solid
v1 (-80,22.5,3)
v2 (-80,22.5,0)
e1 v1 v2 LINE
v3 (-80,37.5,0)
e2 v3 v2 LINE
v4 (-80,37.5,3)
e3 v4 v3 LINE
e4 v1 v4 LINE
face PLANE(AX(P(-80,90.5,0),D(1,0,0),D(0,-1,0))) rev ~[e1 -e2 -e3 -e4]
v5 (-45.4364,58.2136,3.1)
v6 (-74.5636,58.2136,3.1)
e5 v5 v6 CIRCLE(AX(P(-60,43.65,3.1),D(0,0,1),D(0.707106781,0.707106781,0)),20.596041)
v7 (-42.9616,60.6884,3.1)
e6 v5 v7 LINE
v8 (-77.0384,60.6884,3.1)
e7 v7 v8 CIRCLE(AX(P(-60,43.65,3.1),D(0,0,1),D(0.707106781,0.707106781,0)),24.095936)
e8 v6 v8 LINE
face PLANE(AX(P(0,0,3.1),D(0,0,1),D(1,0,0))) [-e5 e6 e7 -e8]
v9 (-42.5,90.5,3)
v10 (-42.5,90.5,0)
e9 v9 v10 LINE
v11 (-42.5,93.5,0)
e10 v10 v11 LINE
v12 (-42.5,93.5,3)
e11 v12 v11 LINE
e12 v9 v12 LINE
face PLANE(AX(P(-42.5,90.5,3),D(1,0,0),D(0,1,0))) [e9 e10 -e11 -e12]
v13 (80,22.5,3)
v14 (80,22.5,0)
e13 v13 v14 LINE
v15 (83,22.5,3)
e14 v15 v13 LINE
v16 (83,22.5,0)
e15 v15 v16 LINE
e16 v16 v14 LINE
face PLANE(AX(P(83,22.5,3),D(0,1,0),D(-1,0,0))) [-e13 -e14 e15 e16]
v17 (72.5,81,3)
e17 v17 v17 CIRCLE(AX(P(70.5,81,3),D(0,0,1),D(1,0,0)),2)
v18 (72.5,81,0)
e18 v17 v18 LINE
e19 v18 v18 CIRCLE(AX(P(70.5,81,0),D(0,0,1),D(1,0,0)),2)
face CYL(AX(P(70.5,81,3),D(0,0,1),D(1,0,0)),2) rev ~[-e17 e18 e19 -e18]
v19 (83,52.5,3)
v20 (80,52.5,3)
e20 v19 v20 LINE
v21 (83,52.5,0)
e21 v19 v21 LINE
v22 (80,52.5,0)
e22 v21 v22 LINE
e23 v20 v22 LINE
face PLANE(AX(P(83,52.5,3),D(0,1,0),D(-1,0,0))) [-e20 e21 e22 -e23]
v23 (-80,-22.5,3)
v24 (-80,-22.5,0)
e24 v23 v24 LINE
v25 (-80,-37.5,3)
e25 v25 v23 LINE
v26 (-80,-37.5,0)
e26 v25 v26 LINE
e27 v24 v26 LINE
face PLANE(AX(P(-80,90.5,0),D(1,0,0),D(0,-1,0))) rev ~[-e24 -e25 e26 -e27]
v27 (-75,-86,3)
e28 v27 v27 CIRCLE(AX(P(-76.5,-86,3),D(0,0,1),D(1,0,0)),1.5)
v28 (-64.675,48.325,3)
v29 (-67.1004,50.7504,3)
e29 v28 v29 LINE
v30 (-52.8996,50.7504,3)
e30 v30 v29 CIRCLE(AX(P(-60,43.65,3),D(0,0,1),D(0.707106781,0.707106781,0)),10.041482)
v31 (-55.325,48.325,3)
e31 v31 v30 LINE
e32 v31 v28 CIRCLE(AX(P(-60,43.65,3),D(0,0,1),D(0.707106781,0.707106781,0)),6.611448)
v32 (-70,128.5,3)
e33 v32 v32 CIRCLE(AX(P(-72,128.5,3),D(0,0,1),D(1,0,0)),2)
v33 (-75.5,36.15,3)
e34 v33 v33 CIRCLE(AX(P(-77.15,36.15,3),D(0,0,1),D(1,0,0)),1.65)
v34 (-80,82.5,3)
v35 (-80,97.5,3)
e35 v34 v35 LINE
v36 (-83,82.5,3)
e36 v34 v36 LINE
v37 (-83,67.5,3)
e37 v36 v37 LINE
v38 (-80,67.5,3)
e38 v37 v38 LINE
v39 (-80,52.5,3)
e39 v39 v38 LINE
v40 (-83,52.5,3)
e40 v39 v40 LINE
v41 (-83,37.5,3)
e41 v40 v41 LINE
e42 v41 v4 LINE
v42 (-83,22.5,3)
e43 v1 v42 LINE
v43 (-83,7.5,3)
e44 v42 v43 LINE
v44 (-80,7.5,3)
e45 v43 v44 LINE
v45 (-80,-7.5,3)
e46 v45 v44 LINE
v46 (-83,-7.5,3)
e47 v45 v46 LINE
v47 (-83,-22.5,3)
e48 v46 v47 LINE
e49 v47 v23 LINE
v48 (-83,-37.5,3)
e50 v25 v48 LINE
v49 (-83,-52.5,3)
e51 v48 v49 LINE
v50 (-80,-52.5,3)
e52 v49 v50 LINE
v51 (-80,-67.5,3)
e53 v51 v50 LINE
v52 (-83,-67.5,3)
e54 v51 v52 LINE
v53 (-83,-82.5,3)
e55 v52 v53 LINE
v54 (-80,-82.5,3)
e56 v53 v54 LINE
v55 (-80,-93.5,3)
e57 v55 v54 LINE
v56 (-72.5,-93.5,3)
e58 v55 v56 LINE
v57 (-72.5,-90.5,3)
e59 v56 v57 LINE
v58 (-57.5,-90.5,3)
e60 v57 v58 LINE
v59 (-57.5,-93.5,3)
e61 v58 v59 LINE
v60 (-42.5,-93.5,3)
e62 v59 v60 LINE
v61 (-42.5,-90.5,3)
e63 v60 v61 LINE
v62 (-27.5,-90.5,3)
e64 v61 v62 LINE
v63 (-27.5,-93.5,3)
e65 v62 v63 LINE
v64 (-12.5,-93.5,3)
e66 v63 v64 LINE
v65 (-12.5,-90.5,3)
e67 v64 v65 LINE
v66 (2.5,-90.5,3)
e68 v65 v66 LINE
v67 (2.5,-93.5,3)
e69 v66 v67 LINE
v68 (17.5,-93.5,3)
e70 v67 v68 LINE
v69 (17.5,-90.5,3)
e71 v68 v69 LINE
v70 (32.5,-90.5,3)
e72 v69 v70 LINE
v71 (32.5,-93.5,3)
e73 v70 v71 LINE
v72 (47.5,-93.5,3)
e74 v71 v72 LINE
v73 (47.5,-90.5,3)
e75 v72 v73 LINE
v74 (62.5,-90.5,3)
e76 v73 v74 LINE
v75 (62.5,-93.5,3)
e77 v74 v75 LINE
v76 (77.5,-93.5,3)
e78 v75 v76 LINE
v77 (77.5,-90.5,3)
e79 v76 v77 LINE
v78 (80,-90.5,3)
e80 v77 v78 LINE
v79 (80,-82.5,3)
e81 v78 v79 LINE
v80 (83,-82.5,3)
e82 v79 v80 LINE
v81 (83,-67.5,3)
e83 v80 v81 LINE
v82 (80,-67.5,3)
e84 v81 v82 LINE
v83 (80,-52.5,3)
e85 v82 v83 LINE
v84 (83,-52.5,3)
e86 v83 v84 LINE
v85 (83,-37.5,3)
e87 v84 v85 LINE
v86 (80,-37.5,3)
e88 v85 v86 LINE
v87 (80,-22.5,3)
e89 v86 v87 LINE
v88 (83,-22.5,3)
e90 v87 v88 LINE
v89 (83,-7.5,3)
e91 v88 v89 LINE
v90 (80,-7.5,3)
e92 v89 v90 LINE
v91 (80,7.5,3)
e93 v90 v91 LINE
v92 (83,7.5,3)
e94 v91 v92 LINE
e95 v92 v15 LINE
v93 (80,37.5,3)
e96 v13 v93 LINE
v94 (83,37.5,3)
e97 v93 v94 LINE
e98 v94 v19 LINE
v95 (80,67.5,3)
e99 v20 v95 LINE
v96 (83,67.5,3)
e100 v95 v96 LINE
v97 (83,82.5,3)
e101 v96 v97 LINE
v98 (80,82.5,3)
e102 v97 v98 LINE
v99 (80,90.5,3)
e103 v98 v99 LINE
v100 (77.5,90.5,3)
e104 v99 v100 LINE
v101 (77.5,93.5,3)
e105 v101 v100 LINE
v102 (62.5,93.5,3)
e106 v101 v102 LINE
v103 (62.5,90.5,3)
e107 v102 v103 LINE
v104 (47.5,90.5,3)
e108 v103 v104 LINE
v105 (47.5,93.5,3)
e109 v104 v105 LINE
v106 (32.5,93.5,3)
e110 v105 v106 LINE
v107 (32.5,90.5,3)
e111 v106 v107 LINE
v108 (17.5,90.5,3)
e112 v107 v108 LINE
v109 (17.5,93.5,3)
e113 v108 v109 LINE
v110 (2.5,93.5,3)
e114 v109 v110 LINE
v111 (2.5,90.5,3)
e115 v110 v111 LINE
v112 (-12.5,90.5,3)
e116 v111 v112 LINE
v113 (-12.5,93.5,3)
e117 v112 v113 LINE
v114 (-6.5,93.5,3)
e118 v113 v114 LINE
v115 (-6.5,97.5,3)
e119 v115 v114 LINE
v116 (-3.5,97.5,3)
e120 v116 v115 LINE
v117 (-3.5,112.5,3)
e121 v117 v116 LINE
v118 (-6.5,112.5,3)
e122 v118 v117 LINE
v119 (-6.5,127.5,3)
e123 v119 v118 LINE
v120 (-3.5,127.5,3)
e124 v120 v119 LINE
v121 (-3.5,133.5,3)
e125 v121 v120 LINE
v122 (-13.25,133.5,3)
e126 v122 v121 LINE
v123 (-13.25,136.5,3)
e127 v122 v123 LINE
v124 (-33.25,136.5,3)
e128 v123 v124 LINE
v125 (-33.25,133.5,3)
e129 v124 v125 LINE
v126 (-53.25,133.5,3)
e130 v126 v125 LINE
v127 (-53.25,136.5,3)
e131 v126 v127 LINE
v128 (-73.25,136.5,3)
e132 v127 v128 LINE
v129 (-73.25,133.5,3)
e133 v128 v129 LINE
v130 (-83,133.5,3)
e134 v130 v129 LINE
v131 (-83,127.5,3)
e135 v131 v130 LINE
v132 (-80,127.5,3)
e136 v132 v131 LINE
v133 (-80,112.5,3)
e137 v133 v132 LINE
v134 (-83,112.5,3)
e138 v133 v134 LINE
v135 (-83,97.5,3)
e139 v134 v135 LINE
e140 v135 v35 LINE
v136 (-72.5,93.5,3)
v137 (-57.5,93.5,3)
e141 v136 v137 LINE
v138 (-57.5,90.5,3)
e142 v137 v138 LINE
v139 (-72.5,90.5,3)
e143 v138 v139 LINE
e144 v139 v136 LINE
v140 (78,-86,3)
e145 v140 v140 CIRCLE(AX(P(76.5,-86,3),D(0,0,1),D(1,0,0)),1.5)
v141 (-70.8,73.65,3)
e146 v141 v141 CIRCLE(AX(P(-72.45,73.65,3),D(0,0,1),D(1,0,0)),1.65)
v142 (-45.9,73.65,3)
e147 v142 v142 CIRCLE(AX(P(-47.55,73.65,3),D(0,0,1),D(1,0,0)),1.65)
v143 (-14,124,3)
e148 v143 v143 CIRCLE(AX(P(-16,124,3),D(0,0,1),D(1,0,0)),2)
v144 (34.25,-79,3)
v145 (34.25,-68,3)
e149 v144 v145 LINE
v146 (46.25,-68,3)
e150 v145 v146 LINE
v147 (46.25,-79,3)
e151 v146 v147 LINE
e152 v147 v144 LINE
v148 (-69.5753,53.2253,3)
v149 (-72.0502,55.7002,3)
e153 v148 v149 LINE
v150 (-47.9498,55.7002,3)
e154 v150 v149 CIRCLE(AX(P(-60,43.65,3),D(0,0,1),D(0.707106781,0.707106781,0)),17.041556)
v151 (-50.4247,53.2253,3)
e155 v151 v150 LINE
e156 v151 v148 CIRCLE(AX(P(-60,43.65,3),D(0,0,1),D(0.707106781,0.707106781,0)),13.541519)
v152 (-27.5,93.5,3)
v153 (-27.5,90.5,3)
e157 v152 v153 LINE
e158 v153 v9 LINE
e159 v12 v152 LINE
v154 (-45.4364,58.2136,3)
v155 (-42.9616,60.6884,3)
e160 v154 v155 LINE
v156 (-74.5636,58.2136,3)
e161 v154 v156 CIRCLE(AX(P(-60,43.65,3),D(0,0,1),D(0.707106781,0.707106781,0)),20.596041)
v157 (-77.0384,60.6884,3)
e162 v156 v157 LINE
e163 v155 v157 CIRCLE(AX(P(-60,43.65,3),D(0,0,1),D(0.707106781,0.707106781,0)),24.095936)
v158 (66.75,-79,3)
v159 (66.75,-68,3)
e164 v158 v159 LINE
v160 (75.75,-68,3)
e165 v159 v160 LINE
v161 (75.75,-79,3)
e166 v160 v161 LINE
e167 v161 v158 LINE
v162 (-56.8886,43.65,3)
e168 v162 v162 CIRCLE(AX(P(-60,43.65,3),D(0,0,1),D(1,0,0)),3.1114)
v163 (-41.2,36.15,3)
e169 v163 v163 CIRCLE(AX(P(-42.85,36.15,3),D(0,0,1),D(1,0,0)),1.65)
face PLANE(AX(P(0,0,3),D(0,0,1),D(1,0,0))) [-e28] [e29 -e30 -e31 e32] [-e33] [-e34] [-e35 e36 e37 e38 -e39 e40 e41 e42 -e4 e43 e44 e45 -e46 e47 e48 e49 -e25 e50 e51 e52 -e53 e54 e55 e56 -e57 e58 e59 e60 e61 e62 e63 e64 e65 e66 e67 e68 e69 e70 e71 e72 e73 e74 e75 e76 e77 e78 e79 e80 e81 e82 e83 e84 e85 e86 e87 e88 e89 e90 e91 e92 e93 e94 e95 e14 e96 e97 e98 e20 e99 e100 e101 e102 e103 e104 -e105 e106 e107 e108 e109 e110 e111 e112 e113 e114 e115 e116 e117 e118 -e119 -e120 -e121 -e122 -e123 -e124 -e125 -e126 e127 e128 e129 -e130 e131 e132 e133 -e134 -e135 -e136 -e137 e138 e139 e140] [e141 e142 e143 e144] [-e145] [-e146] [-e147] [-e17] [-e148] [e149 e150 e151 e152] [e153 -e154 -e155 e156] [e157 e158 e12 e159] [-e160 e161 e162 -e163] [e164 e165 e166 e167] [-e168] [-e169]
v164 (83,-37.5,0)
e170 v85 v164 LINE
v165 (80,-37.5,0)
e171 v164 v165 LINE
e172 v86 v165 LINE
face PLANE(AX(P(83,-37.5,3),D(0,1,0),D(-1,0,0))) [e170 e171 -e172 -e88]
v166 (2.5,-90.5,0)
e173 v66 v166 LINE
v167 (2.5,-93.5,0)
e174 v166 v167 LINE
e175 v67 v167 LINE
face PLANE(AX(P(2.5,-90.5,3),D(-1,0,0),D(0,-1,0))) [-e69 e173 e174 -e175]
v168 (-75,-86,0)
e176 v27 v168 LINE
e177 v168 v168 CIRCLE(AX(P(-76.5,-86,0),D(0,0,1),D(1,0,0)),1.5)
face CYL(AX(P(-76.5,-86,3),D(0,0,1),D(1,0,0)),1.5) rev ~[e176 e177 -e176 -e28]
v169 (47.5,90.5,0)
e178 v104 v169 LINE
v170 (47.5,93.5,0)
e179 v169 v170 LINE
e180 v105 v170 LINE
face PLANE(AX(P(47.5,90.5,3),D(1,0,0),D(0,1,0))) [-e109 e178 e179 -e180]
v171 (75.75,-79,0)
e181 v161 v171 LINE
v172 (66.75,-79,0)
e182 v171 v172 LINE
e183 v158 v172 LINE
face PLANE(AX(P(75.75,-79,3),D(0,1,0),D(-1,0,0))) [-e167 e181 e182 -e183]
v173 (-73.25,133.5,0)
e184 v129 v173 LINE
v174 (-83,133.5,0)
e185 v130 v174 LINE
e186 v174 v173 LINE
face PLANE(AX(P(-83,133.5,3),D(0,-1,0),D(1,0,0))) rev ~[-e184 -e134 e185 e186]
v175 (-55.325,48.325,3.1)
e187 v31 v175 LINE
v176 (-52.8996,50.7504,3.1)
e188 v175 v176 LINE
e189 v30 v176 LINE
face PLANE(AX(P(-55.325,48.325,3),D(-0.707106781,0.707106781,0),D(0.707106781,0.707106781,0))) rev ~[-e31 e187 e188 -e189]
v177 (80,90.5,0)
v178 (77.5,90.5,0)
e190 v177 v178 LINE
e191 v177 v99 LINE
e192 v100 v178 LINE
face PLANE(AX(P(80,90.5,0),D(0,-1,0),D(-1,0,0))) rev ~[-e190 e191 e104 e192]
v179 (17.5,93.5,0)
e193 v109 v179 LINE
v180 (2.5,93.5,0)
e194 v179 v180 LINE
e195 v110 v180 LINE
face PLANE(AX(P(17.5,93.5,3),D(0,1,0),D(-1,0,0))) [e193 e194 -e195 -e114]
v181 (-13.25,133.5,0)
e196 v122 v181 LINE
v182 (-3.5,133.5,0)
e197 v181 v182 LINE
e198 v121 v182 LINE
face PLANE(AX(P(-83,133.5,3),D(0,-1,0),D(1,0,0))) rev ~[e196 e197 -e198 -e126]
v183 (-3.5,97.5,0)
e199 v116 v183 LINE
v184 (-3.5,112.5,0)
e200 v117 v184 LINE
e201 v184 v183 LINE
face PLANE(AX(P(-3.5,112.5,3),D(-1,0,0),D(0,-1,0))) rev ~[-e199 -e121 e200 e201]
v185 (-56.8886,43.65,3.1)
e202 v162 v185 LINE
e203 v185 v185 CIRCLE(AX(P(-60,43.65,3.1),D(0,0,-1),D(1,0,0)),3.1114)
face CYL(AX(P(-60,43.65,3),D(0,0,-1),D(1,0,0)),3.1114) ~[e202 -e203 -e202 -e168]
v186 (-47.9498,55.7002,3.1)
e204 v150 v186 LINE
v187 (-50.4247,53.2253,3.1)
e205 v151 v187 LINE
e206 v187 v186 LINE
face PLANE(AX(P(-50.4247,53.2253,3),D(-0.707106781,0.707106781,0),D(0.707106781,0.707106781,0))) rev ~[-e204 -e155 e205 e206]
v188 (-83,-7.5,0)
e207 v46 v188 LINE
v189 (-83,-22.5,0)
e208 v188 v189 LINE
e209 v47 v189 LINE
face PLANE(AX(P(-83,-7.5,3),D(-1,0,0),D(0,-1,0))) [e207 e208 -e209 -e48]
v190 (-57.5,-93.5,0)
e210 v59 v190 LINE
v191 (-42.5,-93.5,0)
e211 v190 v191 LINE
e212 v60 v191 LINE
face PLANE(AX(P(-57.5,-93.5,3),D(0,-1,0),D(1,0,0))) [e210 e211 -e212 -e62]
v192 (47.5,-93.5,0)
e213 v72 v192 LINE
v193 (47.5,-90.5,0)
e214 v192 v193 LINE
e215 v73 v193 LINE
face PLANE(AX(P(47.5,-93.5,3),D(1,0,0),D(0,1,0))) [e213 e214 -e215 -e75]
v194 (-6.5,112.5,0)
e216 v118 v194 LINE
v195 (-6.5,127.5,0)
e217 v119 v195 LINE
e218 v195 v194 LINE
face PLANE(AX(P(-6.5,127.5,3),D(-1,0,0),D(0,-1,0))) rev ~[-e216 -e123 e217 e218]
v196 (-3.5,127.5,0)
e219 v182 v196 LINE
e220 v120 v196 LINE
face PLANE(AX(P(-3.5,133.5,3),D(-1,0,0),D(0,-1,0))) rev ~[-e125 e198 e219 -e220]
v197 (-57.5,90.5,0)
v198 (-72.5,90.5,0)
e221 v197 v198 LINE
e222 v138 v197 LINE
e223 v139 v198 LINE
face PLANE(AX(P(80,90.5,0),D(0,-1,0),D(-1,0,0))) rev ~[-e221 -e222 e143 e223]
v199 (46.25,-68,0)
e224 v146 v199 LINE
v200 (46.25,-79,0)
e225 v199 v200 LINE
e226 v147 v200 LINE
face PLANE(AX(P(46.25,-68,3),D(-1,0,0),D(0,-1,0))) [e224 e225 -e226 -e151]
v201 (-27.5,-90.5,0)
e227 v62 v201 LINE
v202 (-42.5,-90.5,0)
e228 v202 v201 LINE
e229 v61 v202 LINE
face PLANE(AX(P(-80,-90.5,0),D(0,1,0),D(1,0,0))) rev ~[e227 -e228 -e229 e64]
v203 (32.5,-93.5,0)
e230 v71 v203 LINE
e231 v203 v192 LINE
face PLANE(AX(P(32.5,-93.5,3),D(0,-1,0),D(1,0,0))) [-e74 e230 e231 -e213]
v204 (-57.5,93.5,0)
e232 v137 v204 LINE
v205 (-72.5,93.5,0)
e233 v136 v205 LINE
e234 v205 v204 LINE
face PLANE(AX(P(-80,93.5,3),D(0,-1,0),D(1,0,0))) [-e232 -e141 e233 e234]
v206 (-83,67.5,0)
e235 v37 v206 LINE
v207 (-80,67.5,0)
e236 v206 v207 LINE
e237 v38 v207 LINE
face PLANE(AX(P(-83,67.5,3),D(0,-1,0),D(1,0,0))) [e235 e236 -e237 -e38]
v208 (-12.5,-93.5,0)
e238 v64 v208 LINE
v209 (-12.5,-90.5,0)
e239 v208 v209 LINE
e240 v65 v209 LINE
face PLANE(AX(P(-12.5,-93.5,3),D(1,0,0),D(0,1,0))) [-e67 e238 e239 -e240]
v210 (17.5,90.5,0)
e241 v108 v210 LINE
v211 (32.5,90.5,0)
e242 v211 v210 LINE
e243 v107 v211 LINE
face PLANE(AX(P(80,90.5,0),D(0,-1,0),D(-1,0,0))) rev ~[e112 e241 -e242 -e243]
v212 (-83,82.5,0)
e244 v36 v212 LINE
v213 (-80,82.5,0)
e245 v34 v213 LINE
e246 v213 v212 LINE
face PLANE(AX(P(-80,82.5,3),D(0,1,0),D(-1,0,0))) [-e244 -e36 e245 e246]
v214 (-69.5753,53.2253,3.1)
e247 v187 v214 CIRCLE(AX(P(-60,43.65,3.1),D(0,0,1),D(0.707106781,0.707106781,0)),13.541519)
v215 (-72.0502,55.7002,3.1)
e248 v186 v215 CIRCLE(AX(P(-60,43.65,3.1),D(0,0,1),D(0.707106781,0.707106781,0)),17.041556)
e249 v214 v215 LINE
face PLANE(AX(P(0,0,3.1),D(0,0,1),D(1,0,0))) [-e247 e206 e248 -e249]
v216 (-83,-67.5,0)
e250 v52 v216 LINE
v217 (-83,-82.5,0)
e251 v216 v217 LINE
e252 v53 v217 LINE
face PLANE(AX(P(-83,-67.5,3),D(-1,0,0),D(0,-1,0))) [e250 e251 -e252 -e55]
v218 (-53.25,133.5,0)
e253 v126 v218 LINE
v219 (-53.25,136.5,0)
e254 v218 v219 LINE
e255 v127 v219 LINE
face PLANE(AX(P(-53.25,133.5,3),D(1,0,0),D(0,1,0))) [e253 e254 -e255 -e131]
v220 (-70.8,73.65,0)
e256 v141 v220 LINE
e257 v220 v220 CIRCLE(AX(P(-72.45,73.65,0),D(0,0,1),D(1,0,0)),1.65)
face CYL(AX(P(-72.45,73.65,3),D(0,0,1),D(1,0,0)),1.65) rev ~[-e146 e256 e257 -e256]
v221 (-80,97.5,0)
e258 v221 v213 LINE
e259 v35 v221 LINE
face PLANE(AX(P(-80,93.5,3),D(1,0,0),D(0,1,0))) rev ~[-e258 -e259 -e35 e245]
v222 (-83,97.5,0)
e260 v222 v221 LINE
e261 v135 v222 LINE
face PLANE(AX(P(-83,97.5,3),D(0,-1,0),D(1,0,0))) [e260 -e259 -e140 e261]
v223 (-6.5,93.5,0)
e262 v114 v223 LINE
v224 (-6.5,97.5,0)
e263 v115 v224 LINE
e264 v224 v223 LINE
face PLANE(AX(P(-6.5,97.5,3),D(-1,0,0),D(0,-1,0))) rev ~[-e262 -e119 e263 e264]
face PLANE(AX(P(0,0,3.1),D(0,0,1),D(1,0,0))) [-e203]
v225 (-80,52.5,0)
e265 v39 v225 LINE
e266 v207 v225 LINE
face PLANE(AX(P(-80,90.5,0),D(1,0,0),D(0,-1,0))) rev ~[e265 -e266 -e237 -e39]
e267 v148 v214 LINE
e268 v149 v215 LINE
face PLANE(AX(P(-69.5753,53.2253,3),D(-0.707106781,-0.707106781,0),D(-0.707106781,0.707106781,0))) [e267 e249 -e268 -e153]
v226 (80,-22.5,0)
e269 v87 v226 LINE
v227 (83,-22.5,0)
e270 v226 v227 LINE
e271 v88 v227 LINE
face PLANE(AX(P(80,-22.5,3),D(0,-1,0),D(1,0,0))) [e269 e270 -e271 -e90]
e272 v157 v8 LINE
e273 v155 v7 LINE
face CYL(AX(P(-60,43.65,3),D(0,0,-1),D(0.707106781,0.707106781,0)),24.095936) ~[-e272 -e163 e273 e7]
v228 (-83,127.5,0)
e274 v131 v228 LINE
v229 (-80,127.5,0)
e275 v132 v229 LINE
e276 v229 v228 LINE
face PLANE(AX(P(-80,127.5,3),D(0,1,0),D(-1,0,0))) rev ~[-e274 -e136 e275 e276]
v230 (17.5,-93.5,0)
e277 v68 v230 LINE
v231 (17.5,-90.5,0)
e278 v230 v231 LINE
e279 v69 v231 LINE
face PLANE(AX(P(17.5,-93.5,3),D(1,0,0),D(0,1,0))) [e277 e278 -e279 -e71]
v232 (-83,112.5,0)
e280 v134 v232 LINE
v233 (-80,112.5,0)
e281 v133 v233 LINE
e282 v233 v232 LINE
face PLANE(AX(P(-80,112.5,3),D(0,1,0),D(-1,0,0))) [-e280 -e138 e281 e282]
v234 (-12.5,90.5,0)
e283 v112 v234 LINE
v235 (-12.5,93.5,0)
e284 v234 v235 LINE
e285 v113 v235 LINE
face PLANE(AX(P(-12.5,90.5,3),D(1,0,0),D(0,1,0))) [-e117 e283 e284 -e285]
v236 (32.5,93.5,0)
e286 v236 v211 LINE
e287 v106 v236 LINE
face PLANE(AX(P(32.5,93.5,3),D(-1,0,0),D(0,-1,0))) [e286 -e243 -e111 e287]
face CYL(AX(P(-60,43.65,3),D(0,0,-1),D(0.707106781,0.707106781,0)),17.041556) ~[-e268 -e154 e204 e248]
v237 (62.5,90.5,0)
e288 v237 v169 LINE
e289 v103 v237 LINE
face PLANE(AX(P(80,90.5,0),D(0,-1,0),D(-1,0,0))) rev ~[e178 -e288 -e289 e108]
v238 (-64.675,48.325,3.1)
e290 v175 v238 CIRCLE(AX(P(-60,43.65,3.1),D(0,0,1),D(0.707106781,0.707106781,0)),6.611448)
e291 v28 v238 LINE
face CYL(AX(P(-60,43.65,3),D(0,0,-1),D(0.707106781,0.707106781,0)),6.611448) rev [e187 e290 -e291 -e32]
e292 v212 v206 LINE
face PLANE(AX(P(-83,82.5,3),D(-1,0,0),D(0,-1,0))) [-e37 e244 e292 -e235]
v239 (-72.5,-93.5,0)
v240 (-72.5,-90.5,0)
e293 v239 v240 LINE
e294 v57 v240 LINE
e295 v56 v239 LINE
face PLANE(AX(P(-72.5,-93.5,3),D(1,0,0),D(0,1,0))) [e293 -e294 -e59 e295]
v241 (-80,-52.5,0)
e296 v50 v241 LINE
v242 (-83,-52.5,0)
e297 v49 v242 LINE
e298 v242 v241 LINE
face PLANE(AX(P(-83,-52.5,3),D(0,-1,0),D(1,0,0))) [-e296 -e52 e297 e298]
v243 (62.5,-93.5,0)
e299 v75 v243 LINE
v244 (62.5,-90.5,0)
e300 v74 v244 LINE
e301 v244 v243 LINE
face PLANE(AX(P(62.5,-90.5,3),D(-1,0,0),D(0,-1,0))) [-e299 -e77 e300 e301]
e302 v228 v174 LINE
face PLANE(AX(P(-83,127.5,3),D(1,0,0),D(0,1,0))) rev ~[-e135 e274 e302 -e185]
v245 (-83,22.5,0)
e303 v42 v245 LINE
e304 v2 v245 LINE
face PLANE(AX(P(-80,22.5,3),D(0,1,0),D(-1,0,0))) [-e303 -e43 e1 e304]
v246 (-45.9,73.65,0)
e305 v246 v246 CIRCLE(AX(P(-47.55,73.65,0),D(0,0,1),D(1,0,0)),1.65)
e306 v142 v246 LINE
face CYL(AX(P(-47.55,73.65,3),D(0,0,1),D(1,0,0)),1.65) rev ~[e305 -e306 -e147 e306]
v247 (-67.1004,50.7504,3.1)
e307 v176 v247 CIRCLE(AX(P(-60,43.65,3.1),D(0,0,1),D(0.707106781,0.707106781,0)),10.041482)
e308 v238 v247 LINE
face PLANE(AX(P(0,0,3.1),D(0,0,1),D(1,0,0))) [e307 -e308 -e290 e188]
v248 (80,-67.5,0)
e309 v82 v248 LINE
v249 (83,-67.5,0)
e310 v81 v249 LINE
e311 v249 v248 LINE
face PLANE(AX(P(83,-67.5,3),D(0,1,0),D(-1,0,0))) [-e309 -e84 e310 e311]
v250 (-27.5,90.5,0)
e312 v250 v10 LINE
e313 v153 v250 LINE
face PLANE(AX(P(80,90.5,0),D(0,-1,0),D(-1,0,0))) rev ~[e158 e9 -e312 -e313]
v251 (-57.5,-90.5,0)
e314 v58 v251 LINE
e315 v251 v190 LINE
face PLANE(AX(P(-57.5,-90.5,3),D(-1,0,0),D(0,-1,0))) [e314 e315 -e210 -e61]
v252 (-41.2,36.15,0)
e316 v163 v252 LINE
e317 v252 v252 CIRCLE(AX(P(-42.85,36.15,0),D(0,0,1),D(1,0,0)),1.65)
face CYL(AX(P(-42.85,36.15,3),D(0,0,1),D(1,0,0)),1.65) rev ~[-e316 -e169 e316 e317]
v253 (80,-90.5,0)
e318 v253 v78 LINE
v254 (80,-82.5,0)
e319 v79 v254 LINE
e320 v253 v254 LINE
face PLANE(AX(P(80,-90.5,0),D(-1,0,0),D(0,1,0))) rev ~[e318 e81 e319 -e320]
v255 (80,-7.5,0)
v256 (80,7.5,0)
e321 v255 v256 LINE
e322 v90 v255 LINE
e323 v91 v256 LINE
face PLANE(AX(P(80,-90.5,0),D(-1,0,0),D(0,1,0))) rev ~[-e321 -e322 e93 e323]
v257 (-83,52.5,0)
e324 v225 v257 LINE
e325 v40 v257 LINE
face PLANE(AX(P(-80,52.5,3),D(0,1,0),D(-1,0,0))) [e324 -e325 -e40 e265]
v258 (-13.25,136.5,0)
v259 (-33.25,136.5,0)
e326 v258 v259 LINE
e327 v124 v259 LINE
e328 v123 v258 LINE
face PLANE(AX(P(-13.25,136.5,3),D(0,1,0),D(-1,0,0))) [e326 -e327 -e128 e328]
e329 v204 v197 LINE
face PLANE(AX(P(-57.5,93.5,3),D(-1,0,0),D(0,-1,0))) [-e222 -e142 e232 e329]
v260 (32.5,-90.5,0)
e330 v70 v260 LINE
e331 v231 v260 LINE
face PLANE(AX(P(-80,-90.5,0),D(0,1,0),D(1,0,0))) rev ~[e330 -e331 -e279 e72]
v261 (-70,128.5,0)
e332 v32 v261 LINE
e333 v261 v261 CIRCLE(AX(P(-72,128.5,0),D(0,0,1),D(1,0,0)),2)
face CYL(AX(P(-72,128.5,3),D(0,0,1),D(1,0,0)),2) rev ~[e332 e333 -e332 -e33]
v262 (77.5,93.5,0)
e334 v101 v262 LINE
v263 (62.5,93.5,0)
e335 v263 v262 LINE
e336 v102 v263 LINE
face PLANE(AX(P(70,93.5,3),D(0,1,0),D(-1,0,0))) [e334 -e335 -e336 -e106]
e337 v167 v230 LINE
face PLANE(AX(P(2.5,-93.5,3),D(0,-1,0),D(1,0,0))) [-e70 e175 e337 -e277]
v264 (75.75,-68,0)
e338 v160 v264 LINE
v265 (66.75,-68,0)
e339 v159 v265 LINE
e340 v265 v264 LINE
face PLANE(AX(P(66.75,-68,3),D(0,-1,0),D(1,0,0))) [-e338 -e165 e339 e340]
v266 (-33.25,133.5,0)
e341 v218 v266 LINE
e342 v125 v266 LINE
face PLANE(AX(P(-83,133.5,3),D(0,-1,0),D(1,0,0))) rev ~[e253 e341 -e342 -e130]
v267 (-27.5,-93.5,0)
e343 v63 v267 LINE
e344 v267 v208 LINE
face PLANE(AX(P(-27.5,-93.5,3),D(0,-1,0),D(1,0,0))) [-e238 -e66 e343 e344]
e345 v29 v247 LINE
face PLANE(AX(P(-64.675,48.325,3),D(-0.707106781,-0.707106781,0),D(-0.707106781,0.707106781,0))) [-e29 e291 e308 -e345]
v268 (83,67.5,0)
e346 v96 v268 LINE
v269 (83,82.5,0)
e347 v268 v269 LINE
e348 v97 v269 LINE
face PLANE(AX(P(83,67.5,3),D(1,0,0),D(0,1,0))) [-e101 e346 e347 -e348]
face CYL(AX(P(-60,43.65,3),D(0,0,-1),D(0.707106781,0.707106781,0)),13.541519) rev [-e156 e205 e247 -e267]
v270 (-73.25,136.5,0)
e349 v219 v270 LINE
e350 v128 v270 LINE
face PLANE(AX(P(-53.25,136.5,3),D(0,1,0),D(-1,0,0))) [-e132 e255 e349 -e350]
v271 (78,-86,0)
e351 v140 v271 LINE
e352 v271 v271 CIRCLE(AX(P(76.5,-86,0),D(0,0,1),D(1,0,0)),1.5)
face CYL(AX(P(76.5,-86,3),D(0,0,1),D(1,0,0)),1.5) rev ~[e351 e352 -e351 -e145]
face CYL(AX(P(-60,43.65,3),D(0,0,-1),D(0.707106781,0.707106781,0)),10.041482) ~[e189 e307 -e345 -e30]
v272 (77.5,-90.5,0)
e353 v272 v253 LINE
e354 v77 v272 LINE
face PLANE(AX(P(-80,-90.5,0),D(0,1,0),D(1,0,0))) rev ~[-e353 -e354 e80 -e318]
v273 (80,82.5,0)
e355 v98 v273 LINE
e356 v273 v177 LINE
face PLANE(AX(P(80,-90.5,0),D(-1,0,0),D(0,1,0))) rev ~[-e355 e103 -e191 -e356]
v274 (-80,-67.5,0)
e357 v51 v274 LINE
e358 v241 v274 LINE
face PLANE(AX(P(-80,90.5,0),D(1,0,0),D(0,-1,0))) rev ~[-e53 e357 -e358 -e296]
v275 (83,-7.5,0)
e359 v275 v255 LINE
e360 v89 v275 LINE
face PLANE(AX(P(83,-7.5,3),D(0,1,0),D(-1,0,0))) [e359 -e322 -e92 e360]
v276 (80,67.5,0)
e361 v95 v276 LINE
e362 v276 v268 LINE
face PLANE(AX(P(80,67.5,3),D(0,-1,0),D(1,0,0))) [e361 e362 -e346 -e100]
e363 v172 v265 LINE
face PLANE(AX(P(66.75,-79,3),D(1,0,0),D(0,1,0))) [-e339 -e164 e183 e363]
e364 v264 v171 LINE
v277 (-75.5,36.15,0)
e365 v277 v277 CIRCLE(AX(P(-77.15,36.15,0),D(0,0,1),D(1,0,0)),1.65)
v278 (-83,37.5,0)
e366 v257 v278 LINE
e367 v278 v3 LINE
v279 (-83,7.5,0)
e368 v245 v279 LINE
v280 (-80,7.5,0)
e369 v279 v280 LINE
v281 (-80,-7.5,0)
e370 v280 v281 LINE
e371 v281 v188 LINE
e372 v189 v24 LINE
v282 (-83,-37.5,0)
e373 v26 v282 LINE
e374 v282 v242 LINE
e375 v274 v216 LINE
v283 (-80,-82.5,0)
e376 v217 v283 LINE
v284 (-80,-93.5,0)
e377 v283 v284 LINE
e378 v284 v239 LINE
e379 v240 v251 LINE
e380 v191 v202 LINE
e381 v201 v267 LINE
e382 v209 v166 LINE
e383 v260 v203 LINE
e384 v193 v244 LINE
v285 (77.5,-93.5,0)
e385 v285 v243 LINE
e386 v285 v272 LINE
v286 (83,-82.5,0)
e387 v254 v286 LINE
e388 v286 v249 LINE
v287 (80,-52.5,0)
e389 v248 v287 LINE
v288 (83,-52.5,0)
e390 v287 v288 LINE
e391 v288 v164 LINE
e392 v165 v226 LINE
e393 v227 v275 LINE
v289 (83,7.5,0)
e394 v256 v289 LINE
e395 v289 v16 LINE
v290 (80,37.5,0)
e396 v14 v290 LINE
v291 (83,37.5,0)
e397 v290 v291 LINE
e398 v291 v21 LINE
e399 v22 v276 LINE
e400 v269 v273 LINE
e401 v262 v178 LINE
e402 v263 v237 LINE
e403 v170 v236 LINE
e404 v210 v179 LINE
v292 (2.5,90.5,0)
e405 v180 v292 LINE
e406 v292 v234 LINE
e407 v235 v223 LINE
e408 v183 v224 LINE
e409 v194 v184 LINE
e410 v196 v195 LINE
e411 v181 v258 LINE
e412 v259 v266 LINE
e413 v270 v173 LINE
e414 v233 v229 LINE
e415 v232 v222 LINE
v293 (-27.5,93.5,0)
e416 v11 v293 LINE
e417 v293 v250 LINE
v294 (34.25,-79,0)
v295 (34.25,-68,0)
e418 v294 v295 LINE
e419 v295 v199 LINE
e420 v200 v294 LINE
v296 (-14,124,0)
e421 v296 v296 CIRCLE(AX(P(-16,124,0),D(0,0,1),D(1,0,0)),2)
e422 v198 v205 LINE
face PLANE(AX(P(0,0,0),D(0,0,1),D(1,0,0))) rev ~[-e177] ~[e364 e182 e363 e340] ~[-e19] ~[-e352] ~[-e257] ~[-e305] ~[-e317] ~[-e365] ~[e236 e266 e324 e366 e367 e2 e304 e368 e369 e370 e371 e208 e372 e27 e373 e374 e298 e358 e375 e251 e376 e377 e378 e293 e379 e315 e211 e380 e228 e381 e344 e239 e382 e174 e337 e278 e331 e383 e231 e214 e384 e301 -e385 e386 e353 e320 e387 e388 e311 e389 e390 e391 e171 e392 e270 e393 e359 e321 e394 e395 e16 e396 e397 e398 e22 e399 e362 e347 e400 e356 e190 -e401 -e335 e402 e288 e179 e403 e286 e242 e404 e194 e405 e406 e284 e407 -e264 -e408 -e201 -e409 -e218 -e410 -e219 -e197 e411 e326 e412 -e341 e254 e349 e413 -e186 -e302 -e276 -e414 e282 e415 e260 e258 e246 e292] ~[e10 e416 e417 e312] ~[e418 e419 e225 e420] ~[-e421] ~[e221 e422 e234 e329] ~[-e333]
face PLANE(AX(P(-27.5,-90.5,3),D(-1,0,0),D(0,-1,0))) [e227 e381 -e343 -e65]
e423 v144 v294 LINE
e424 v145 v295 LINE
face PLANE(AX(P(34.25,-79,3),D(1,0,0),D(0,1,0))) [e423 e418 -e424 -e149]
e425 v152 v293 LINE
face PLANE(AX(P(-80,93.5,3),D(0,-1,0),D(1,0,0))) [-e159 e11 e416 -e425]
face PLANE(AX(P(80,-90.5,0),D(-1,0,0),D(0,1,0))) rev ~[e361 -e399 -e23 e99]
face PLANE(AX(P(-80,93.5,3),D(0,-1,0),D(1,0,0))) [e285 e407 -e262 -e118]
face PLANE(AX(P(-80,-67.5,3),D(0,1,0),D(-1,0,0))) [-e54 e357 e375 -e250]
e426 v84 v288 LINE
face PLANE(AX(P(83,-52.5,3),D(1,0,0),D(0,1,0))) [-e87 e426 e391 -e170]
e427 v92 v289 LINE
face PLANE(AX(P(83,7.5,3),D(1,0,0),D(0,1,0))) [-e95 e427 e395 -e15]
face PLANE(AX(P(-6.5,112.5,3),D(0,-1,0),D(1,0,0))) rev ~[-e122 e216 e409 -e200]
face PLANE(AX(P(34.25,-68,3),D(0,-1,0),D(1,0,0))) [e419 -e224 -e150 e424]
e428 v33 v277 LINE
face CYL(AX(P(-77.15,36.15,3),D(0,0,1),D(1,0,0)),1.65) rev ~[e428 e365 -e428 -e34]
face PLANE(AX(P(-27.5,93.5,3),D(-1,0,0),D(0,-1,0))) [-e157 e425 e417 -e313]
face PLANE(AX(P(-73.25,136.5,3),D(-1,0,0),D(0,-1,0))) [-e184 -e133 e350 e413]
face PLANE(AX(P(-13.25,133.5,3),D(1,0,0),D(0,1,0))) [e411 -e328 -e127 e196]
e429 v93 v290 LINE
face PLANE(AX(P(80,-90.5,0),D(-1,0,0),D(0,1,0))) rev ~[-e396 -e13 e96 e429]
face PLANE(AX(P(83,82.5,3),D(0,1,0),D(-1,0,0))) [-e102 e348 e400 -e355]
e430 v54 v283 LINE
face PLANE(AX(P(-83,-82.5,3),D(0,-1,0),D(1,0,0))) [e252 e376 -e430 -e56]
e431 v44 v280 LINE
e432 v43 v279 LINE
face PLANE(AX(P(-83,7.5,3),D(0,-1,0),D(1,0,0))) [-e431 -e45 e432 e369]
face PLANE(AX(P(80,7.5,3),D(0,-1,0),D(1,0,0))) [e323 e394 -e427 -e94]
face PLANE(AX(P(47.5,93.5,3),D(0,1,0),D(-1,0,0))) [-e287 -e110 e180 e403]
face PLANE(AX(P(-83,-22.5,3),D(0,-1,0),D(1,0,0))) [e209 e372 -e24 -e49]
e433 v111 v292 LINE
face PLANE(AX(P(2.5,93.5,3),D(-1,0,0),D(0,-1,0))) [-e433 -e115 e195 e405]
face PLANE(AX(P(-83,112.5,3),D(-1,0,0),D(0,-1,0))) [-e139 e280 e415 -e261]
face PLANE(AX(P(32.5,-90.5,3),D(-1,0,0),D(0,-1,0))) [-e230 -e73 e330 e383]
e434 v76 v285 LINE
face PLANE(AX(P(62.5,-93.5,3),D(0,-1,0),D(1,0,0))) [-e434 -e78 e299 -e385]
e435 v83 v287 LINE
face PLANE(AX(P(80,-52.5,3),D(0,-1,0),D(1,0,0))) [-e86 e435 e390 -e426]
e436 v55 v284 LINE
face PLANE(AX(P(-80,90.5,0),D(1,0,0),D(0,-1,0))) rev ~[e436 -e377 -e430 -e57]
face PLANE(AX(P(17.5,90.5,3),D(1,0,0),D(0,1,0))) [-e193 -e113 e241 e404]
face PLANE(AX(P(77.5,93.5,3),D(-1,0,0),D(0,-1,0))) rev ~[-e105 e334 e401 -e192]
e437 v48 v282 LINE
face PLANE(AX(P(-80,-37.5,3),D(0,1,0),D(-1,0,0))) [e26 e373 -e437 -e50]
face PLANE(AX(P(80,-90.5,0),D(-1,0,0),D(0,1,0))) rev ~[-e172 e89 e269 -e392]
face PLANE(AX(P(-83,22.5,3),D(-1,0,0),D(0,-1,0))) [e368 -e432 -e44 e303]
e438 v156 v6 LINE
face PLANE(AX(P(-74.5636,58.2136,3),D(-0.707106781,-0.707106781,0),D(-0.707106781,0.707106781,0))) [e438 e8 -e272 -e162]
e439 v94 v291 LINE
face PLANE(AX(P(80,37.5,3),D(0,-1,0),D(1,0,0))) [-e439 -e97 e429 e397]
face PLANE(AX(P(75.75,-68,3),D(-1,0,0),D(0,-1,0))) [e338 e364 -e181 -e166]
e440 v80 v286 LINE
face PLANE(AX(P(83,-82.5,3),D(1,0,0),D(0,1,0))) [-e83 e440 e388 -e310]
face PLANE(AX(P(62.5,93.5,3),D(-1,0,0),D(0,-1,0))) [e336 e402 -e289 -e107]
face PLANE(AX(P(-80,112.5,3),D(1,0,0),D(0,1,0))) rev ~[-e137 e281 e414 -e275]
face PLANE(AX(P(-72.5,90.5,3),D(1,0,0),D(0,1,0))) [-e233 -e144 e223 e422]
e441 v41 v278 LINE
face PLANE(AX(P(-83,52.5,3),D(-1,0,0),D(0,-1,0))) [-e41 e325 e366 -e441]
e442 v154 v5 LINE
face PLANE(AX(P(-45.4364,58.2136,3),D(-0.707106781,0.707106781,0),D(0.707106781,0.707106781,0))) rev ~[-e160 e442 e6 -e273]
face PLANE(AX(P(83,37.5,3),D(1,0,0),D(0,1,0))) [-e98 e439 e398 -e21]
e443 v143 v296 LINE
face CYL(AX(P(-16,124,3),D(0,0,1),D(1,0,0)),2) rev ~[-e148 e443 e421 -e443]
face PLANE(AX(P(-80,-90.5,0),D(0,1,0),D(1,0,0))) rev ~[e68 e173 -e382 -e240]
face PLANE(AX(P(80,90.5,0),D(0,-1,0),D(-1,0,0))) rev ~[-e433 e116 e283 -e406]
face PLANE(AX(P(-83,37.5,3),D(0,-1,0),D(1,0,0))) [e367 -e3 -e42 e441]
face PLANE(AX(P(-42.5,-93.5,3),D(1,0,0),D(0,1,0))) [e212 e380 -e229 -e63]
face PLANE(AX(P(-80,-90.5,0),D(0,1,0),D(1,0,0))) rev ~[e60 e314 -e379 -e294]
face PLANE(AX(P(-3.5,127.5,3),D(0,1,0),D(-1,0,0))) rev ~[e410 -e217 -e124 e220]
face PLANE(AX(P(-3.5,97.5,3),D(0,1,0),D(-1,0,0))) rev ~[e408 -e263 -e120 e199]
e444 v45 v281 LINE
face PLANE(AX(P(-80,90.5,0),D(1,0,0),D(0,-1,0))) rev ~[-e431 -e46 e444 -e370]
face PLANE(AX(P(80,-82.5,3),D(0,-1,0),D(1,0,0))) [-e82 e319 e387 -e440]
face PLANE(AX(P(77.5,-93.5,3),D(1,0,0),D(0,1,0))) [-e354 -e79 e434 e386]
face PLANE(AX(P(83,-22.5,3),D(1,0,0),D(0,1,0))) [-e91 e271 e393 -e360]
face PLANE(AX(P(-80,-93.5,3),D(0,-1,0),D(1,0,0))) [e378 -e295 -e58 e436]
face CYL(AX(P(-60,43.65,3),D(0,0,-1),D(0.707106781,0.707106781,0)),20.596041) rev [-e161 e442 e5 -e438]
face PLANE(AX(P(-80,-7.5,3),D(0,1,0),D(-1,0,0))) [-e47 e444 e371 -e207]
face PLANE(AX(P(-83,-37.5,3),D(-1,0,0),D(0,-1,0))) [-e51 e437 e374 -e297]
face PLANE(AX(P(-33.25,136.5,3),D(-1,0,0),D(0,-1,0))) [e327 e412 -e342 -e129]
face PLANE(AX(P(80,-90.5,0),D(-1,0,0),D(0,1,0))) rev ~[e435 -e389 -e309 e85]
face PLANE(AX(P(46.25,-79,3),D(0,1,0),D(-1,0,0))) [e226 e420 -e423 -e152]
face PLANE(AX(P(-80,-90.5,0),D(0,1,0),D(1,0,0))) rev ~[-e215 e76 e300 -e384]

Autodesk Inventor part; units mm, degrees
ref_plane "YZ Plane" through (0, 0, 0) normal (1, 0, 0) x (0, 1, 0)
ref_plane "XZ Plane" through (0, 0, 0) normal (0, 1, 0) x (-1, 0, 0)
ref_plane "XY Plane" through (0, 0, 0) normal (0, 0, 1) x (1, 0, 0)
sketch "Sketch1" plane through (0, 0, 0) normal (0, 0, 1) x (1, 0, 0)
  line L0 (-80, -90.5) -> (80, -90.5)
  line L1 (80, -90.5) -> (80, 90.5)
  line L2 (80, 90.5) -> (-80, 90.5)
  line L3 (-80, 90.5) -> (-80, -90.5)
  line L4 (-80, -90.5) -> (80, 90.5) construction
  line L5 (80, -90.5) -> (-80, 90.5) construction
  point P0 (0, 0)
  dimension "d0" = 160
  dimension "d1" = 181
extrude "Extrusion1" add sketch "Sketch1" along normal blind 3
sketch "Sketch2" plane through (0, 0, 3) normal (0, 0, 1) x (1, 0, 0)
  line L0 (80, 90.5) -> (-80, 90.5) projected
  line L1 (-80, 90.5) -> (-72.5, 90.5)
  line L2 (-72.5, 90.5) -> (-72.5, 93.5)
  line L3 (-72.5, 93.5) -> (-80, 93.5)
  line L4 (-80, 93.5) -> (-80, 90.5)
  line L5 (62.5, 90.5) -> (70, 90.5)
  line L6 (70, 90.5) -> (70, 93.5)
  line L7 (70, 93.5) -> (62.5, 93.5)
  line L8 (62.5, 93.5) -> (62.5, 90.5)
  line L9 (-80, -93.5) -> (-72.5, -93.5)
  line L10 (-72.5, -93.5) -> (-72.5, -90.5)
  line L11 (-72.5, -90.5) -> (-80, -90.5)
  line L12 (-80, -90.5) -> (-80, -93.5)
  line L13 (62.5, -93.5) -> (70, -93.5)
  line L14 (70, -93.5) -> (70, -90.5)
  line L15 (70, -90.5) -> (62.5, -90.5)
  line L16 (62.5, -90.5) -> (62.5, -93.5)
  line L17 (-57.5, 90.5) -> (-42.5, 90.5)
  line L18 (-42.5, 90.5) -> (-42.5, 93.5)
  line L19 (-42.5, 93.5) -> (-57.5, 93.5)
  line L20 (-57.5, 93.5) -> (-57.5, 90.5)
  line L21 (-27.5, 90.5) -> (-12.5, 90.5)
  line L22 (-12.5, 93.5) -> (-27.5, 93.5)
  line L23 (-27.5, 93.5) -> (-27.5, 90.5)
  line L24 (-12.5, 90.5) -> (-12.5, 93.5)
  line L25 (2.5, 90.5) -> (17.5, 90.5)
  line L26 (17.5, 93.5) -> (2.5, 93.5)
  line L27 (2.5, 93.5) -> (2.5, 90.5)
  line L28 (17.5, 90.5) -> (17.5, 93.5)
  line L29 (32.5, 90.5) -> (47.5, 90.5)
  line L30 (47.5, 93.5) -> (32.5, 93.5)
  line L31 (32.5, 93.5) -> (32.5, 90.5)
  line L32 (47.5, 90.5) -> (47.5, 93.5)
  line L33 (-57.5, -93.5) -> (-42.5, -93.5)
  line L34 (-42.5, -90.5) -> (-57.5, -90.5)
  line L35 (-57.5, -90.5) -> (-57.5, -93.5)
  line L36 (-42.5, -93.5) -> (-42.5, -90.5)
  line L37 (-27.5, -93.5) -> (-12.5, -93.5)
  line L38 (-12.5, -90.5) -> (-27.5, -90.5)
  line L39 (-27.5, -90.5) -> (-27.5, -93.5)
  line L40 (-12.5, -93.5) -> (-12.5, -90.5)
  line L41 (2.5, -93.5) -> (17.5, -93.5)
  line L42 (17.5, -90.5) -> (2.5, -90.5)
  line L43 (2.5, -90.5) -> (2.5, -93.5)
  line L44 (17.5, -93.5) -> (17.5, -90.5)
  line L45 (32.5, -93.5) -> (47.5, -93.5)
  line L46 (47.5, -90.5) -> (32.5, -90.5)
  line L47 (32.5, -90.5) -> (32.5, -93.5)
  line L48 (47.5, -93.5) -> (47.5, -90.5)
  point P0 (0, 0)
  dimension "d4" = 7.5
  dimension "d5" = 3
  dimension "d8" = 142.5
  dimension "d11" = 184
  dimension "d14" = 15
  dimension "d15" = 3
  dimension "d16" = 15
  dimension "d19" = 30
  dimension "d22" = 184
extrude "Extrusion2" add sketch "Sketch2" against normal blind 3
sketch "Sketch3" plane through (0, 0, 3) normal (0, 0, 1) x (1, 0, 0)
  line L0 (-80, 93.5) -> (-80, -93.5) projected
  line L1 (-80, 82.5) -> (-83, 82.5)
  line L2 (-83, 82.5) -> (-83, 67.5)
  line L3 (-83, 67.5) -> (-80, 67.5)
  line L4 (-80, 67.5) -> (-80, 82.5)
  line L5 (-80, 52.5) -> (-83, 52.5)
  line L6 (-83, 52.5) -> (-83, 37.5)
  line L7 (-83, 37.5) -> (-80, 37.5)
  line L8 (-80, 37.5) -> (-80, 52.5)
  line L9 (-80, 22.5) -> (-83, 22.5)
  line L10 (-83, 22.5) -> (-83, 7.5)
  line L11 (-83, 7.5) -> (-80, 7.5)
  line L12 (-80, 7.5) -> (-80, 22.5)
  line L13 (-80, -7.5) -> (-83, -7.5)
  line L14 (-83, -7.5) -> (-83, -22.5)
  line L15 (-83, -22.5) -> (-80, -22.5)
  line L16 (-80, -22.5) -> (-80, -7.5)
  line L17 (-80, -37.5) -> (-83, -37.5)
  line L18 (-83, -37.5) -> (-83, -52.5)
  line L19 (-83, -52.5) -> (-80, -52.5)
  line L20 (-80, -52.5) -> (-80, -37.5)
  line L21 (-80, -67.5) -> (-83, -67.5)
  line L22 (-83, -67.5) -> (-83, -82.5)
  line L23 (-83, -82.5) -> (-80, -82.5)
  line L24 (-80, -82.5) -> (-80, -67.5)
  line L25 (83, 82.5) -> (80, 82.5)
  line L26 (80, 82.5) -> (80, 67.5)
  line L27 (80, 67.5) -> (83, 67.5)
  line L28 (83, 67.5) -> (83, 82.5)
  line L29 (83, 52.5) -> (80, 52.5)
  line L30 (80, 52.5) -> (80, 37.5)
  line L31 (80, 37.5) -> (83, 37.5)
  line L32 (83, 37.5) -> (83, 52.5)
  line L33 (83, 22.5) -> (80, 22.5)
  line L34 (80, 22.5) -> (80, 7.5)
  line L35 (80, 7.5) -> (83, 7.5)
  line L36 (83, 7.5) -> (83, 22.5)
  line L37 (83, -7.5) -> (80, -7.5)
  line L38 (80, -7.5) -> (80, -22.5)
  line L39 (80, -22.5) -> (83, -22.5)
  line L40 (83, -22.5) -> (83, -7.5)
  line L41 (83, -37.5) -> (80, -37.5)
  line L42 (80, -37.5) -> (80, -52.5)
  line L43 (80, -52.5) -> (83, -52.5)
  line L44 (83, -52.5) -> (83, -37.5)
  line L45 (83, -67.5) -> (80, -67.5)
  line L46 (80, -67.5) -> (80, -82.5)
  line L47 (80, -82.5) -> (83, -82.5)
  line L48 (83, -82.5) -> (83, -67.5)
  point P0 (0, 0)
  dimension "d27" = 3
  dimension "d28" = 15
  dimension "d29" = 11
  dimension "d32" = 30
  dimension "d35" = 163
extrude "Extrusion3" add sketch "Sketch3" against normal blind 3
sketch "Sketch5" plane through (0, 0, 3) normal (0, 0, 1) x (1, 0, 0)
  line L0 (-79.5, 20.5) -> (-40.5, 20.5) construction
  line L1 (-40.5, 20.5) -> (-40.5, 80.5) construction
  line L2 (-40.5, 80.5) -> (-79.5, 80.5) construction
  line L3 (-79.5, 80.5) -> (-79.5, 20.5) construction
  line L4 (-79.5, 20.5) -> (-40.5, 80.5) construction
  line L5 (-40.5, 20.5) -> (-79.5, 80.5) construction
  circle A0 centre (-72.45, 73.65) radius 1.65
  circle A1 centre (-47.55, 73.65) radius 1.65
  circle A2 centre (-77.15, 36.15) radius 1.65
  circle A3 centre (-42.85, 36.15) radius 1.65
  line L6 (-80, 67.5) -> (-80, 52.5) projected
  line L7 (-57.5, 90.5) -> (-72.5, 90.5) projected
  point P0 (0, 0)
  point P1 (-60, 50.5)
  dimension "d43" = 39
  dimension "d44" = 60
  dimension "d45" = 3.3
  dimension "d46" = 3.3
  dimension "d47" = 3.3
  dimension "d48" = 3.3
  dimension "d49" = 5.4
  dimension "d50" = 5.2
  dimension "d51" = 5.2
  dimension "d52" = 5.4
  dimension "d53" = 0.7
  dimension "d54" = 14
  dimension "d55" = 0.7
  dimension "d56" = 14
  dimension "d57" = 0.5
  dimension "d58" = 10
extrude "Extrusion4" cut sketch "Sketch5" against normal blind 10
sketch "Sketch6" plane through (0, 0, 3) normal (0, 0, 1) x (1, 0, 0)
  line L0 (-71.5024, 68.4241) -> (-38.422, 68.4241) construction
  line L1 (-38.422, 68.4241) -> (-38.422, 39.0388) construction
  line L2 (-38.422, 39.0388) -> (-71.5024, 39.0388) construction
  line L3 (-71.5024, 39.0388) -> (-71.5024, 68.4241) construction
  circle A0 centre (-60, 43.65) radius 3.1114
  line L4 (-60, 43.65) -> (-31.9595, 43.65) construction
  line L5 (-60, 43.65) -> (-31.9595, 43.65) construction
  arc A1 (-55.325, 48.325) -> (-64.675, 48.325) centre (-60, 43.65) ccw
  arc A2 (-50.4247, 53.2253) -> (-69.5753, 53.2253) centre (-60, 43.65) ccw
  arc A3 (-45.4364, 58.2136) -> (-74.5636, 58.2136) centre (-60, 43.65) ccw
  arc A4 (-42.9616, 60.6884) -> (-77.0384, 60.6884) centre (-60, 43.65) ccw
  line L6 (-60, 43.65) -> (-30.904, 43.65) construction
  line L7 (-60, 43.65) -> (-30.904, 43.65) construction
  arc A5 (-52.8996, 50.7504) -> (-67.1004, 50.7504) centre (-60, 43.65) ccw
  arc A6 (-47.9498, 55.7002) -> (-72.0502, 55.7002) centre (-60, 43.65) ccw
  circle A7 centre (-77.15, 36.15) radius 1.65 projected
  circle A8 centre (-72.45, 73.65) radius 1.65 projected
  line L8 (-60, 43.65) -> (-62.2001, 45.8501)
  line L9 (-64.675, 48.325) -> (-67.1004, 50.7504)
  line L10 (-69.5753, 53.2253) -> (-72.0502, 55.7002)
  line L11 (-74.5636, 58.2136) -> (-77.0384, 60.6884)
  line L12 (-60, 43.65) -> (-57.7999, 45.8501)
  line L13 (-55.325, 48.325) -> (-52.8996, 50.7504)
  line L14 (-50.4247, 53.2253) -> (-47.9498, 55.7002)
  line L15 (-45.4364, 58.2136) -> (-42.9616, 60.6884)
  point P0 (0, 0)
  dimension "d220" = 10
  dimension "d72" = 3.5
  dimension "d77" = 3.5
  dimension "d101" = 17.15
  dimension "d106" = 24.096
  dimension "d107" = 17.0415
  dimension "d108" = 13.5415
  dimension "d109" = 10.0415
  dimension "d110" = 6.6114
  dimension "d118" = 33.0804
  dimension "d119" = 24.774
  dimension "d120" = 38.422
  dimension "d127" = 7.518
  dimension "d128" = 6.4625
  dimension "d129" = 6.4625
  dimension "d182" = 0
  dimension "d183" = 0
  dimension "d184" = 0
  dimension "d185" = 0
  dimension "d186" = 0
  dimension "d187" = 0
  dimension "d189" = 45
  dimension "d190" = 73.2916
extrude "Extrusion5" add sketch "Sketch6" along normal blind 0.1 contours A0 L8 L12 | L12 L8 A0 | A1 L9 A5 L13 | A2 L10 A6 L14 | A3 L11 A4 L15
sketch "Sketch7" plane through (0, 0, 3) normal (0, 0, 1) x (1, 0, 0)
  line L0 (-80, 93.5) -> (-80, 82.5) projected
  line L1 (-80, 93.5) -> (-6.5, 93.5)
  line L2 (-83, 82.5) -> (-83, 97.5) construction
  line L3 (-83, 97.5) -> (-80, 97.5)
  line L4 (-80, 112.5) -> (-83, 112.5)
  line L5 (-83, 112.5) -> (-83, 97.5)
  line L6 (-80, 93.5) -> (-80, 97.5)
  line L7 (-80, 112.5) -> (-80, 127.5)
  line L8 (-80, 127.5) -> (-83, 127.5)
  line L9 (-83, 127.5) -> (-83, 133.5)
  line L10 (-83, 133.5) -> (-3.5, 133.5)
  line L11 (-3.5, 133.5) -> (-3.5, 93.5) construction
  line L12 (-3.5, 133.5) -> (-3.5, 127.5)
  line L13 (-3.5, 127.5) -> (-6.5, 127.5)
  line L14 (-6.5, 127.5) -> (-6.5, 112.5)
  line L15 (-6.5, 112.5) -> (-3.5, 112.5)
  line L16 (-3.5, 112.5) -> (-3.5, 97.5)
  line L17 (-3.5, 97.5) -> (-6.5, 97.5)
  line L18 (-6.5, 97.5) -> (-6.5, 93.5)
  point P0 (0, 0)
  dimension "d135" = 15
  dimension "d136" = 3
  dimension "d137" = 15
  dimension "d138" = 15
  dimension "d139" = 3
  dimension "d140" = 3
  dimension "d141" = 15
  dimension "d142" = 15
  dimension "d143" = 76.5
  dimension "d144" = 34
  dimension "d145" = 40
  dimension "d146" = 0
extrude "Extrusion6" add sketch "Sketch7" against normal blind 3
sketch "Sketch8" plane through (0, 0, 3) normal (0, 0, 1) x (1, 0, 0)
  line L0 (-3.5, 133.5) -> (-83, 133.5) projected
  line L1 (-73.25, 133.5) -> (-53.25, 133.5)
  line L2 (-53.25, 133.5) -> (-53.25, 136.5)
  line L3 (-53.25, 136.5) -> (-73.25, 136.5)
  line L4 (-73.25, 136.5) -> (-73.25, 133.5)
  line L5 (-83, 133.5) -> (-83, 127.5) projected
  line L6 (-33.25, 133.5) -> (-13.25, 133.5)
  line L7 (-13.25, 133.5) -> (-13.25, 136.5)
  line L8 (-13.25, 136.5) -> (-33.25, 136.5)
  line L9 (-33.25, 136.5) -> (-33.25, 133.5)
  point P0 (0, 0)
  dimension "d149" = 20
  dimension "d150" = 3
  dimension "d151" = 9.75
  dimension "d154" = 40
extrude "Extrusion7" add sketch "Sketch8" against normal blind 3
sketch "Sketch9" plane through (0, 0, 3) normal (0, 0, 1) x (1, 0, 0)
  line L0 (62.5, 90.5) -> (62.5, 93.5) projected
  line L1 (62.5, 93.5) -> (77.5, 93.5)
  line L2 (77.5, 93.5) -> (77.5, 90.5)
  line L3 (77.5, 90.5) -> (62.5, 90.5)
  line L4 (62.5, 90.5) -> (62.5, 93.5)
  line L5 (62.5, -93.5) -> (62.5, -90.5) projected
  line L6 (62.5, -93.5) -> (77.5, -93.5)
  line L7 (77.5, -93.5) -> (77.5, -90.5)
  line L8 (77.5, -90.5) -> (62.5, -90.5)
  line L9 (62.5, -90.5) -> (62.5, -93.5)
  point P0 (0, 0)
  dimension "d162" = 15
  dimension "d163" = 3
  dimension "d164" = 15
  dimension "d165" = 3
extrude "Extrusion8" add sketch "Sketch9" against normal blind 3
sketch "Sketch10" plane through (0, 0, 3) normal (0, 0, 1) x (1, 0, 0)
  line L0 (-80, -82.5) -> (-80, -93.5) projected
  line L1 (-80, -79) -> (80, -79) construction
  line L2 (80, -90.5) -> (80, -82.5) projected
  line L3 (17.5, -90.5) -> (32.5, -90.5) projected
  line L4 (75.75, -79) -> (66.75, -79)
  line L5 (66.75, -79) -> (66.75, -68)
  line L6 (66.75, -68) -> (75.75, -68)
  line L7 (75.75, -68) -> (75.75, -79)
  line L8 (46.25, -79) -> (34.25, -79)
  line L9 (34.25, -79) -> (34.25, -68)
  line L10 (34.25, -68) -> (46.25, -68)
  line L11 (46.25, -68) -> (46.25, -79)
  point P0 (0, 0)
  dimension "d192" = 11.5
  dimension "d193" = 9
  dimension "d194" = 11
  dimension "d195" = 4.25
  dimension "d196" = 12
  dimension "d197" = 11
  dimension "d198" = 20.5
extrude "Extrusion9" cut sketch "Sketch10" against normal blind 10
sketch "Sketch11" plane through (0, 0, 3) normal (0, 0, 1) x (1, 0, 0)
  circle A0 centre (-76.5, -86) radius 1.5
  circle A1 centre (76.5, -86) radius 1.5
  line L0 (83, -82.5) -> (83, -67.5) projected
  line L1 (62.5, -93.5) -> (77.5, -93.5) projected
  line L2 (-72.5, -93.5) -> (-80, -93.5) projected
  line L3 (-83, -67.5) -> (-83, -82.5) projected
  point P0 (0, 0)
  dimension "d201" = 3
  dimension "d202" = 3
  dimension "d203" = 6.5
  dimension "d204" = 7.5
  dimension "d205" = 7.5
  dimension "d206" = 6.5
extrude "Extrusion10" cut sketch "Sketch11" against normal blind 10
sketch "Sketch12" plane through (0, 0, 3) normal (0, 0, 1) x (1, 0, 0)
  circle A0 centre (70.5, 81) radius 2
  line L0 (80, 82.5) -> (80, 90.5) projected
  line L1 (62.5, 90.5) -> (47.5, 90.5) projected
  circle A1 centre (-16, 124) radius 2
  line L2 (-3.5, 133.5) -> (-13.25, 133.5) projected
  line L3 (-6.5, 112.5) -> (-6.5, 127.5) projected
  point P0 (0, 0)
  dimension "d209" = 4
  dimension "d210" = 9.5
  dimension "d211" = 9.5
  dimension "d212" = 4
  dimension "d213" = 9.5
  dimension "d214" = 9.5
extrude "Extrusion11" cut sketch "Sketch12" against normal blind 10
sketch "Sketch13" plane through (0, 0, 3) normal (0, 0, 1) x (1, 0, 0)
  circle A0 centre (-72, 128.5) radius 2
  line L0 (-73.25, 133.5) -> (-83, 133.5) projected
  line L1 (-80, 127.5) -> (-80, 112.5) projected
  point P0 (0, 0)
  dimension "d217" = 4
  dimension "d218" = 5
  dimension "d219" = 8
extrude "Extrusion12" cut sketch "Sketch13" against normal blind 10
equation "\"d46\" = d45"
equation "\"d47\" = d45"
equation "\"d48\" = d45"
equation "\"d51\" = d50"
equation "\"d52\" = d49"
equation "\"d55\" = d53"
equation "\"d56\" = d54"
equation "\"d203\" = d206"
equation "\"d204\" = d205"
equation "\"BendRadius\" = Thickness"
equation "\"BendReliefWidth\" = Thickness"
equation "\"BendReliefDepth\" = 0.5 * Thickness"
equation "\"CornerReliefSize\" = 4 * Thickness"
equation "\"MinimumRemnant\" = 2 * Thickness"
equation "\"TransitionRadius\" = BendRadius"
equation "\"JacobiRadiusSize\" = BendRadius"
equation "\"GapSize\" = Thickness"
equation "\"Thickness\" = 0.5"
properties part number "9 zijplaat met RFID"
